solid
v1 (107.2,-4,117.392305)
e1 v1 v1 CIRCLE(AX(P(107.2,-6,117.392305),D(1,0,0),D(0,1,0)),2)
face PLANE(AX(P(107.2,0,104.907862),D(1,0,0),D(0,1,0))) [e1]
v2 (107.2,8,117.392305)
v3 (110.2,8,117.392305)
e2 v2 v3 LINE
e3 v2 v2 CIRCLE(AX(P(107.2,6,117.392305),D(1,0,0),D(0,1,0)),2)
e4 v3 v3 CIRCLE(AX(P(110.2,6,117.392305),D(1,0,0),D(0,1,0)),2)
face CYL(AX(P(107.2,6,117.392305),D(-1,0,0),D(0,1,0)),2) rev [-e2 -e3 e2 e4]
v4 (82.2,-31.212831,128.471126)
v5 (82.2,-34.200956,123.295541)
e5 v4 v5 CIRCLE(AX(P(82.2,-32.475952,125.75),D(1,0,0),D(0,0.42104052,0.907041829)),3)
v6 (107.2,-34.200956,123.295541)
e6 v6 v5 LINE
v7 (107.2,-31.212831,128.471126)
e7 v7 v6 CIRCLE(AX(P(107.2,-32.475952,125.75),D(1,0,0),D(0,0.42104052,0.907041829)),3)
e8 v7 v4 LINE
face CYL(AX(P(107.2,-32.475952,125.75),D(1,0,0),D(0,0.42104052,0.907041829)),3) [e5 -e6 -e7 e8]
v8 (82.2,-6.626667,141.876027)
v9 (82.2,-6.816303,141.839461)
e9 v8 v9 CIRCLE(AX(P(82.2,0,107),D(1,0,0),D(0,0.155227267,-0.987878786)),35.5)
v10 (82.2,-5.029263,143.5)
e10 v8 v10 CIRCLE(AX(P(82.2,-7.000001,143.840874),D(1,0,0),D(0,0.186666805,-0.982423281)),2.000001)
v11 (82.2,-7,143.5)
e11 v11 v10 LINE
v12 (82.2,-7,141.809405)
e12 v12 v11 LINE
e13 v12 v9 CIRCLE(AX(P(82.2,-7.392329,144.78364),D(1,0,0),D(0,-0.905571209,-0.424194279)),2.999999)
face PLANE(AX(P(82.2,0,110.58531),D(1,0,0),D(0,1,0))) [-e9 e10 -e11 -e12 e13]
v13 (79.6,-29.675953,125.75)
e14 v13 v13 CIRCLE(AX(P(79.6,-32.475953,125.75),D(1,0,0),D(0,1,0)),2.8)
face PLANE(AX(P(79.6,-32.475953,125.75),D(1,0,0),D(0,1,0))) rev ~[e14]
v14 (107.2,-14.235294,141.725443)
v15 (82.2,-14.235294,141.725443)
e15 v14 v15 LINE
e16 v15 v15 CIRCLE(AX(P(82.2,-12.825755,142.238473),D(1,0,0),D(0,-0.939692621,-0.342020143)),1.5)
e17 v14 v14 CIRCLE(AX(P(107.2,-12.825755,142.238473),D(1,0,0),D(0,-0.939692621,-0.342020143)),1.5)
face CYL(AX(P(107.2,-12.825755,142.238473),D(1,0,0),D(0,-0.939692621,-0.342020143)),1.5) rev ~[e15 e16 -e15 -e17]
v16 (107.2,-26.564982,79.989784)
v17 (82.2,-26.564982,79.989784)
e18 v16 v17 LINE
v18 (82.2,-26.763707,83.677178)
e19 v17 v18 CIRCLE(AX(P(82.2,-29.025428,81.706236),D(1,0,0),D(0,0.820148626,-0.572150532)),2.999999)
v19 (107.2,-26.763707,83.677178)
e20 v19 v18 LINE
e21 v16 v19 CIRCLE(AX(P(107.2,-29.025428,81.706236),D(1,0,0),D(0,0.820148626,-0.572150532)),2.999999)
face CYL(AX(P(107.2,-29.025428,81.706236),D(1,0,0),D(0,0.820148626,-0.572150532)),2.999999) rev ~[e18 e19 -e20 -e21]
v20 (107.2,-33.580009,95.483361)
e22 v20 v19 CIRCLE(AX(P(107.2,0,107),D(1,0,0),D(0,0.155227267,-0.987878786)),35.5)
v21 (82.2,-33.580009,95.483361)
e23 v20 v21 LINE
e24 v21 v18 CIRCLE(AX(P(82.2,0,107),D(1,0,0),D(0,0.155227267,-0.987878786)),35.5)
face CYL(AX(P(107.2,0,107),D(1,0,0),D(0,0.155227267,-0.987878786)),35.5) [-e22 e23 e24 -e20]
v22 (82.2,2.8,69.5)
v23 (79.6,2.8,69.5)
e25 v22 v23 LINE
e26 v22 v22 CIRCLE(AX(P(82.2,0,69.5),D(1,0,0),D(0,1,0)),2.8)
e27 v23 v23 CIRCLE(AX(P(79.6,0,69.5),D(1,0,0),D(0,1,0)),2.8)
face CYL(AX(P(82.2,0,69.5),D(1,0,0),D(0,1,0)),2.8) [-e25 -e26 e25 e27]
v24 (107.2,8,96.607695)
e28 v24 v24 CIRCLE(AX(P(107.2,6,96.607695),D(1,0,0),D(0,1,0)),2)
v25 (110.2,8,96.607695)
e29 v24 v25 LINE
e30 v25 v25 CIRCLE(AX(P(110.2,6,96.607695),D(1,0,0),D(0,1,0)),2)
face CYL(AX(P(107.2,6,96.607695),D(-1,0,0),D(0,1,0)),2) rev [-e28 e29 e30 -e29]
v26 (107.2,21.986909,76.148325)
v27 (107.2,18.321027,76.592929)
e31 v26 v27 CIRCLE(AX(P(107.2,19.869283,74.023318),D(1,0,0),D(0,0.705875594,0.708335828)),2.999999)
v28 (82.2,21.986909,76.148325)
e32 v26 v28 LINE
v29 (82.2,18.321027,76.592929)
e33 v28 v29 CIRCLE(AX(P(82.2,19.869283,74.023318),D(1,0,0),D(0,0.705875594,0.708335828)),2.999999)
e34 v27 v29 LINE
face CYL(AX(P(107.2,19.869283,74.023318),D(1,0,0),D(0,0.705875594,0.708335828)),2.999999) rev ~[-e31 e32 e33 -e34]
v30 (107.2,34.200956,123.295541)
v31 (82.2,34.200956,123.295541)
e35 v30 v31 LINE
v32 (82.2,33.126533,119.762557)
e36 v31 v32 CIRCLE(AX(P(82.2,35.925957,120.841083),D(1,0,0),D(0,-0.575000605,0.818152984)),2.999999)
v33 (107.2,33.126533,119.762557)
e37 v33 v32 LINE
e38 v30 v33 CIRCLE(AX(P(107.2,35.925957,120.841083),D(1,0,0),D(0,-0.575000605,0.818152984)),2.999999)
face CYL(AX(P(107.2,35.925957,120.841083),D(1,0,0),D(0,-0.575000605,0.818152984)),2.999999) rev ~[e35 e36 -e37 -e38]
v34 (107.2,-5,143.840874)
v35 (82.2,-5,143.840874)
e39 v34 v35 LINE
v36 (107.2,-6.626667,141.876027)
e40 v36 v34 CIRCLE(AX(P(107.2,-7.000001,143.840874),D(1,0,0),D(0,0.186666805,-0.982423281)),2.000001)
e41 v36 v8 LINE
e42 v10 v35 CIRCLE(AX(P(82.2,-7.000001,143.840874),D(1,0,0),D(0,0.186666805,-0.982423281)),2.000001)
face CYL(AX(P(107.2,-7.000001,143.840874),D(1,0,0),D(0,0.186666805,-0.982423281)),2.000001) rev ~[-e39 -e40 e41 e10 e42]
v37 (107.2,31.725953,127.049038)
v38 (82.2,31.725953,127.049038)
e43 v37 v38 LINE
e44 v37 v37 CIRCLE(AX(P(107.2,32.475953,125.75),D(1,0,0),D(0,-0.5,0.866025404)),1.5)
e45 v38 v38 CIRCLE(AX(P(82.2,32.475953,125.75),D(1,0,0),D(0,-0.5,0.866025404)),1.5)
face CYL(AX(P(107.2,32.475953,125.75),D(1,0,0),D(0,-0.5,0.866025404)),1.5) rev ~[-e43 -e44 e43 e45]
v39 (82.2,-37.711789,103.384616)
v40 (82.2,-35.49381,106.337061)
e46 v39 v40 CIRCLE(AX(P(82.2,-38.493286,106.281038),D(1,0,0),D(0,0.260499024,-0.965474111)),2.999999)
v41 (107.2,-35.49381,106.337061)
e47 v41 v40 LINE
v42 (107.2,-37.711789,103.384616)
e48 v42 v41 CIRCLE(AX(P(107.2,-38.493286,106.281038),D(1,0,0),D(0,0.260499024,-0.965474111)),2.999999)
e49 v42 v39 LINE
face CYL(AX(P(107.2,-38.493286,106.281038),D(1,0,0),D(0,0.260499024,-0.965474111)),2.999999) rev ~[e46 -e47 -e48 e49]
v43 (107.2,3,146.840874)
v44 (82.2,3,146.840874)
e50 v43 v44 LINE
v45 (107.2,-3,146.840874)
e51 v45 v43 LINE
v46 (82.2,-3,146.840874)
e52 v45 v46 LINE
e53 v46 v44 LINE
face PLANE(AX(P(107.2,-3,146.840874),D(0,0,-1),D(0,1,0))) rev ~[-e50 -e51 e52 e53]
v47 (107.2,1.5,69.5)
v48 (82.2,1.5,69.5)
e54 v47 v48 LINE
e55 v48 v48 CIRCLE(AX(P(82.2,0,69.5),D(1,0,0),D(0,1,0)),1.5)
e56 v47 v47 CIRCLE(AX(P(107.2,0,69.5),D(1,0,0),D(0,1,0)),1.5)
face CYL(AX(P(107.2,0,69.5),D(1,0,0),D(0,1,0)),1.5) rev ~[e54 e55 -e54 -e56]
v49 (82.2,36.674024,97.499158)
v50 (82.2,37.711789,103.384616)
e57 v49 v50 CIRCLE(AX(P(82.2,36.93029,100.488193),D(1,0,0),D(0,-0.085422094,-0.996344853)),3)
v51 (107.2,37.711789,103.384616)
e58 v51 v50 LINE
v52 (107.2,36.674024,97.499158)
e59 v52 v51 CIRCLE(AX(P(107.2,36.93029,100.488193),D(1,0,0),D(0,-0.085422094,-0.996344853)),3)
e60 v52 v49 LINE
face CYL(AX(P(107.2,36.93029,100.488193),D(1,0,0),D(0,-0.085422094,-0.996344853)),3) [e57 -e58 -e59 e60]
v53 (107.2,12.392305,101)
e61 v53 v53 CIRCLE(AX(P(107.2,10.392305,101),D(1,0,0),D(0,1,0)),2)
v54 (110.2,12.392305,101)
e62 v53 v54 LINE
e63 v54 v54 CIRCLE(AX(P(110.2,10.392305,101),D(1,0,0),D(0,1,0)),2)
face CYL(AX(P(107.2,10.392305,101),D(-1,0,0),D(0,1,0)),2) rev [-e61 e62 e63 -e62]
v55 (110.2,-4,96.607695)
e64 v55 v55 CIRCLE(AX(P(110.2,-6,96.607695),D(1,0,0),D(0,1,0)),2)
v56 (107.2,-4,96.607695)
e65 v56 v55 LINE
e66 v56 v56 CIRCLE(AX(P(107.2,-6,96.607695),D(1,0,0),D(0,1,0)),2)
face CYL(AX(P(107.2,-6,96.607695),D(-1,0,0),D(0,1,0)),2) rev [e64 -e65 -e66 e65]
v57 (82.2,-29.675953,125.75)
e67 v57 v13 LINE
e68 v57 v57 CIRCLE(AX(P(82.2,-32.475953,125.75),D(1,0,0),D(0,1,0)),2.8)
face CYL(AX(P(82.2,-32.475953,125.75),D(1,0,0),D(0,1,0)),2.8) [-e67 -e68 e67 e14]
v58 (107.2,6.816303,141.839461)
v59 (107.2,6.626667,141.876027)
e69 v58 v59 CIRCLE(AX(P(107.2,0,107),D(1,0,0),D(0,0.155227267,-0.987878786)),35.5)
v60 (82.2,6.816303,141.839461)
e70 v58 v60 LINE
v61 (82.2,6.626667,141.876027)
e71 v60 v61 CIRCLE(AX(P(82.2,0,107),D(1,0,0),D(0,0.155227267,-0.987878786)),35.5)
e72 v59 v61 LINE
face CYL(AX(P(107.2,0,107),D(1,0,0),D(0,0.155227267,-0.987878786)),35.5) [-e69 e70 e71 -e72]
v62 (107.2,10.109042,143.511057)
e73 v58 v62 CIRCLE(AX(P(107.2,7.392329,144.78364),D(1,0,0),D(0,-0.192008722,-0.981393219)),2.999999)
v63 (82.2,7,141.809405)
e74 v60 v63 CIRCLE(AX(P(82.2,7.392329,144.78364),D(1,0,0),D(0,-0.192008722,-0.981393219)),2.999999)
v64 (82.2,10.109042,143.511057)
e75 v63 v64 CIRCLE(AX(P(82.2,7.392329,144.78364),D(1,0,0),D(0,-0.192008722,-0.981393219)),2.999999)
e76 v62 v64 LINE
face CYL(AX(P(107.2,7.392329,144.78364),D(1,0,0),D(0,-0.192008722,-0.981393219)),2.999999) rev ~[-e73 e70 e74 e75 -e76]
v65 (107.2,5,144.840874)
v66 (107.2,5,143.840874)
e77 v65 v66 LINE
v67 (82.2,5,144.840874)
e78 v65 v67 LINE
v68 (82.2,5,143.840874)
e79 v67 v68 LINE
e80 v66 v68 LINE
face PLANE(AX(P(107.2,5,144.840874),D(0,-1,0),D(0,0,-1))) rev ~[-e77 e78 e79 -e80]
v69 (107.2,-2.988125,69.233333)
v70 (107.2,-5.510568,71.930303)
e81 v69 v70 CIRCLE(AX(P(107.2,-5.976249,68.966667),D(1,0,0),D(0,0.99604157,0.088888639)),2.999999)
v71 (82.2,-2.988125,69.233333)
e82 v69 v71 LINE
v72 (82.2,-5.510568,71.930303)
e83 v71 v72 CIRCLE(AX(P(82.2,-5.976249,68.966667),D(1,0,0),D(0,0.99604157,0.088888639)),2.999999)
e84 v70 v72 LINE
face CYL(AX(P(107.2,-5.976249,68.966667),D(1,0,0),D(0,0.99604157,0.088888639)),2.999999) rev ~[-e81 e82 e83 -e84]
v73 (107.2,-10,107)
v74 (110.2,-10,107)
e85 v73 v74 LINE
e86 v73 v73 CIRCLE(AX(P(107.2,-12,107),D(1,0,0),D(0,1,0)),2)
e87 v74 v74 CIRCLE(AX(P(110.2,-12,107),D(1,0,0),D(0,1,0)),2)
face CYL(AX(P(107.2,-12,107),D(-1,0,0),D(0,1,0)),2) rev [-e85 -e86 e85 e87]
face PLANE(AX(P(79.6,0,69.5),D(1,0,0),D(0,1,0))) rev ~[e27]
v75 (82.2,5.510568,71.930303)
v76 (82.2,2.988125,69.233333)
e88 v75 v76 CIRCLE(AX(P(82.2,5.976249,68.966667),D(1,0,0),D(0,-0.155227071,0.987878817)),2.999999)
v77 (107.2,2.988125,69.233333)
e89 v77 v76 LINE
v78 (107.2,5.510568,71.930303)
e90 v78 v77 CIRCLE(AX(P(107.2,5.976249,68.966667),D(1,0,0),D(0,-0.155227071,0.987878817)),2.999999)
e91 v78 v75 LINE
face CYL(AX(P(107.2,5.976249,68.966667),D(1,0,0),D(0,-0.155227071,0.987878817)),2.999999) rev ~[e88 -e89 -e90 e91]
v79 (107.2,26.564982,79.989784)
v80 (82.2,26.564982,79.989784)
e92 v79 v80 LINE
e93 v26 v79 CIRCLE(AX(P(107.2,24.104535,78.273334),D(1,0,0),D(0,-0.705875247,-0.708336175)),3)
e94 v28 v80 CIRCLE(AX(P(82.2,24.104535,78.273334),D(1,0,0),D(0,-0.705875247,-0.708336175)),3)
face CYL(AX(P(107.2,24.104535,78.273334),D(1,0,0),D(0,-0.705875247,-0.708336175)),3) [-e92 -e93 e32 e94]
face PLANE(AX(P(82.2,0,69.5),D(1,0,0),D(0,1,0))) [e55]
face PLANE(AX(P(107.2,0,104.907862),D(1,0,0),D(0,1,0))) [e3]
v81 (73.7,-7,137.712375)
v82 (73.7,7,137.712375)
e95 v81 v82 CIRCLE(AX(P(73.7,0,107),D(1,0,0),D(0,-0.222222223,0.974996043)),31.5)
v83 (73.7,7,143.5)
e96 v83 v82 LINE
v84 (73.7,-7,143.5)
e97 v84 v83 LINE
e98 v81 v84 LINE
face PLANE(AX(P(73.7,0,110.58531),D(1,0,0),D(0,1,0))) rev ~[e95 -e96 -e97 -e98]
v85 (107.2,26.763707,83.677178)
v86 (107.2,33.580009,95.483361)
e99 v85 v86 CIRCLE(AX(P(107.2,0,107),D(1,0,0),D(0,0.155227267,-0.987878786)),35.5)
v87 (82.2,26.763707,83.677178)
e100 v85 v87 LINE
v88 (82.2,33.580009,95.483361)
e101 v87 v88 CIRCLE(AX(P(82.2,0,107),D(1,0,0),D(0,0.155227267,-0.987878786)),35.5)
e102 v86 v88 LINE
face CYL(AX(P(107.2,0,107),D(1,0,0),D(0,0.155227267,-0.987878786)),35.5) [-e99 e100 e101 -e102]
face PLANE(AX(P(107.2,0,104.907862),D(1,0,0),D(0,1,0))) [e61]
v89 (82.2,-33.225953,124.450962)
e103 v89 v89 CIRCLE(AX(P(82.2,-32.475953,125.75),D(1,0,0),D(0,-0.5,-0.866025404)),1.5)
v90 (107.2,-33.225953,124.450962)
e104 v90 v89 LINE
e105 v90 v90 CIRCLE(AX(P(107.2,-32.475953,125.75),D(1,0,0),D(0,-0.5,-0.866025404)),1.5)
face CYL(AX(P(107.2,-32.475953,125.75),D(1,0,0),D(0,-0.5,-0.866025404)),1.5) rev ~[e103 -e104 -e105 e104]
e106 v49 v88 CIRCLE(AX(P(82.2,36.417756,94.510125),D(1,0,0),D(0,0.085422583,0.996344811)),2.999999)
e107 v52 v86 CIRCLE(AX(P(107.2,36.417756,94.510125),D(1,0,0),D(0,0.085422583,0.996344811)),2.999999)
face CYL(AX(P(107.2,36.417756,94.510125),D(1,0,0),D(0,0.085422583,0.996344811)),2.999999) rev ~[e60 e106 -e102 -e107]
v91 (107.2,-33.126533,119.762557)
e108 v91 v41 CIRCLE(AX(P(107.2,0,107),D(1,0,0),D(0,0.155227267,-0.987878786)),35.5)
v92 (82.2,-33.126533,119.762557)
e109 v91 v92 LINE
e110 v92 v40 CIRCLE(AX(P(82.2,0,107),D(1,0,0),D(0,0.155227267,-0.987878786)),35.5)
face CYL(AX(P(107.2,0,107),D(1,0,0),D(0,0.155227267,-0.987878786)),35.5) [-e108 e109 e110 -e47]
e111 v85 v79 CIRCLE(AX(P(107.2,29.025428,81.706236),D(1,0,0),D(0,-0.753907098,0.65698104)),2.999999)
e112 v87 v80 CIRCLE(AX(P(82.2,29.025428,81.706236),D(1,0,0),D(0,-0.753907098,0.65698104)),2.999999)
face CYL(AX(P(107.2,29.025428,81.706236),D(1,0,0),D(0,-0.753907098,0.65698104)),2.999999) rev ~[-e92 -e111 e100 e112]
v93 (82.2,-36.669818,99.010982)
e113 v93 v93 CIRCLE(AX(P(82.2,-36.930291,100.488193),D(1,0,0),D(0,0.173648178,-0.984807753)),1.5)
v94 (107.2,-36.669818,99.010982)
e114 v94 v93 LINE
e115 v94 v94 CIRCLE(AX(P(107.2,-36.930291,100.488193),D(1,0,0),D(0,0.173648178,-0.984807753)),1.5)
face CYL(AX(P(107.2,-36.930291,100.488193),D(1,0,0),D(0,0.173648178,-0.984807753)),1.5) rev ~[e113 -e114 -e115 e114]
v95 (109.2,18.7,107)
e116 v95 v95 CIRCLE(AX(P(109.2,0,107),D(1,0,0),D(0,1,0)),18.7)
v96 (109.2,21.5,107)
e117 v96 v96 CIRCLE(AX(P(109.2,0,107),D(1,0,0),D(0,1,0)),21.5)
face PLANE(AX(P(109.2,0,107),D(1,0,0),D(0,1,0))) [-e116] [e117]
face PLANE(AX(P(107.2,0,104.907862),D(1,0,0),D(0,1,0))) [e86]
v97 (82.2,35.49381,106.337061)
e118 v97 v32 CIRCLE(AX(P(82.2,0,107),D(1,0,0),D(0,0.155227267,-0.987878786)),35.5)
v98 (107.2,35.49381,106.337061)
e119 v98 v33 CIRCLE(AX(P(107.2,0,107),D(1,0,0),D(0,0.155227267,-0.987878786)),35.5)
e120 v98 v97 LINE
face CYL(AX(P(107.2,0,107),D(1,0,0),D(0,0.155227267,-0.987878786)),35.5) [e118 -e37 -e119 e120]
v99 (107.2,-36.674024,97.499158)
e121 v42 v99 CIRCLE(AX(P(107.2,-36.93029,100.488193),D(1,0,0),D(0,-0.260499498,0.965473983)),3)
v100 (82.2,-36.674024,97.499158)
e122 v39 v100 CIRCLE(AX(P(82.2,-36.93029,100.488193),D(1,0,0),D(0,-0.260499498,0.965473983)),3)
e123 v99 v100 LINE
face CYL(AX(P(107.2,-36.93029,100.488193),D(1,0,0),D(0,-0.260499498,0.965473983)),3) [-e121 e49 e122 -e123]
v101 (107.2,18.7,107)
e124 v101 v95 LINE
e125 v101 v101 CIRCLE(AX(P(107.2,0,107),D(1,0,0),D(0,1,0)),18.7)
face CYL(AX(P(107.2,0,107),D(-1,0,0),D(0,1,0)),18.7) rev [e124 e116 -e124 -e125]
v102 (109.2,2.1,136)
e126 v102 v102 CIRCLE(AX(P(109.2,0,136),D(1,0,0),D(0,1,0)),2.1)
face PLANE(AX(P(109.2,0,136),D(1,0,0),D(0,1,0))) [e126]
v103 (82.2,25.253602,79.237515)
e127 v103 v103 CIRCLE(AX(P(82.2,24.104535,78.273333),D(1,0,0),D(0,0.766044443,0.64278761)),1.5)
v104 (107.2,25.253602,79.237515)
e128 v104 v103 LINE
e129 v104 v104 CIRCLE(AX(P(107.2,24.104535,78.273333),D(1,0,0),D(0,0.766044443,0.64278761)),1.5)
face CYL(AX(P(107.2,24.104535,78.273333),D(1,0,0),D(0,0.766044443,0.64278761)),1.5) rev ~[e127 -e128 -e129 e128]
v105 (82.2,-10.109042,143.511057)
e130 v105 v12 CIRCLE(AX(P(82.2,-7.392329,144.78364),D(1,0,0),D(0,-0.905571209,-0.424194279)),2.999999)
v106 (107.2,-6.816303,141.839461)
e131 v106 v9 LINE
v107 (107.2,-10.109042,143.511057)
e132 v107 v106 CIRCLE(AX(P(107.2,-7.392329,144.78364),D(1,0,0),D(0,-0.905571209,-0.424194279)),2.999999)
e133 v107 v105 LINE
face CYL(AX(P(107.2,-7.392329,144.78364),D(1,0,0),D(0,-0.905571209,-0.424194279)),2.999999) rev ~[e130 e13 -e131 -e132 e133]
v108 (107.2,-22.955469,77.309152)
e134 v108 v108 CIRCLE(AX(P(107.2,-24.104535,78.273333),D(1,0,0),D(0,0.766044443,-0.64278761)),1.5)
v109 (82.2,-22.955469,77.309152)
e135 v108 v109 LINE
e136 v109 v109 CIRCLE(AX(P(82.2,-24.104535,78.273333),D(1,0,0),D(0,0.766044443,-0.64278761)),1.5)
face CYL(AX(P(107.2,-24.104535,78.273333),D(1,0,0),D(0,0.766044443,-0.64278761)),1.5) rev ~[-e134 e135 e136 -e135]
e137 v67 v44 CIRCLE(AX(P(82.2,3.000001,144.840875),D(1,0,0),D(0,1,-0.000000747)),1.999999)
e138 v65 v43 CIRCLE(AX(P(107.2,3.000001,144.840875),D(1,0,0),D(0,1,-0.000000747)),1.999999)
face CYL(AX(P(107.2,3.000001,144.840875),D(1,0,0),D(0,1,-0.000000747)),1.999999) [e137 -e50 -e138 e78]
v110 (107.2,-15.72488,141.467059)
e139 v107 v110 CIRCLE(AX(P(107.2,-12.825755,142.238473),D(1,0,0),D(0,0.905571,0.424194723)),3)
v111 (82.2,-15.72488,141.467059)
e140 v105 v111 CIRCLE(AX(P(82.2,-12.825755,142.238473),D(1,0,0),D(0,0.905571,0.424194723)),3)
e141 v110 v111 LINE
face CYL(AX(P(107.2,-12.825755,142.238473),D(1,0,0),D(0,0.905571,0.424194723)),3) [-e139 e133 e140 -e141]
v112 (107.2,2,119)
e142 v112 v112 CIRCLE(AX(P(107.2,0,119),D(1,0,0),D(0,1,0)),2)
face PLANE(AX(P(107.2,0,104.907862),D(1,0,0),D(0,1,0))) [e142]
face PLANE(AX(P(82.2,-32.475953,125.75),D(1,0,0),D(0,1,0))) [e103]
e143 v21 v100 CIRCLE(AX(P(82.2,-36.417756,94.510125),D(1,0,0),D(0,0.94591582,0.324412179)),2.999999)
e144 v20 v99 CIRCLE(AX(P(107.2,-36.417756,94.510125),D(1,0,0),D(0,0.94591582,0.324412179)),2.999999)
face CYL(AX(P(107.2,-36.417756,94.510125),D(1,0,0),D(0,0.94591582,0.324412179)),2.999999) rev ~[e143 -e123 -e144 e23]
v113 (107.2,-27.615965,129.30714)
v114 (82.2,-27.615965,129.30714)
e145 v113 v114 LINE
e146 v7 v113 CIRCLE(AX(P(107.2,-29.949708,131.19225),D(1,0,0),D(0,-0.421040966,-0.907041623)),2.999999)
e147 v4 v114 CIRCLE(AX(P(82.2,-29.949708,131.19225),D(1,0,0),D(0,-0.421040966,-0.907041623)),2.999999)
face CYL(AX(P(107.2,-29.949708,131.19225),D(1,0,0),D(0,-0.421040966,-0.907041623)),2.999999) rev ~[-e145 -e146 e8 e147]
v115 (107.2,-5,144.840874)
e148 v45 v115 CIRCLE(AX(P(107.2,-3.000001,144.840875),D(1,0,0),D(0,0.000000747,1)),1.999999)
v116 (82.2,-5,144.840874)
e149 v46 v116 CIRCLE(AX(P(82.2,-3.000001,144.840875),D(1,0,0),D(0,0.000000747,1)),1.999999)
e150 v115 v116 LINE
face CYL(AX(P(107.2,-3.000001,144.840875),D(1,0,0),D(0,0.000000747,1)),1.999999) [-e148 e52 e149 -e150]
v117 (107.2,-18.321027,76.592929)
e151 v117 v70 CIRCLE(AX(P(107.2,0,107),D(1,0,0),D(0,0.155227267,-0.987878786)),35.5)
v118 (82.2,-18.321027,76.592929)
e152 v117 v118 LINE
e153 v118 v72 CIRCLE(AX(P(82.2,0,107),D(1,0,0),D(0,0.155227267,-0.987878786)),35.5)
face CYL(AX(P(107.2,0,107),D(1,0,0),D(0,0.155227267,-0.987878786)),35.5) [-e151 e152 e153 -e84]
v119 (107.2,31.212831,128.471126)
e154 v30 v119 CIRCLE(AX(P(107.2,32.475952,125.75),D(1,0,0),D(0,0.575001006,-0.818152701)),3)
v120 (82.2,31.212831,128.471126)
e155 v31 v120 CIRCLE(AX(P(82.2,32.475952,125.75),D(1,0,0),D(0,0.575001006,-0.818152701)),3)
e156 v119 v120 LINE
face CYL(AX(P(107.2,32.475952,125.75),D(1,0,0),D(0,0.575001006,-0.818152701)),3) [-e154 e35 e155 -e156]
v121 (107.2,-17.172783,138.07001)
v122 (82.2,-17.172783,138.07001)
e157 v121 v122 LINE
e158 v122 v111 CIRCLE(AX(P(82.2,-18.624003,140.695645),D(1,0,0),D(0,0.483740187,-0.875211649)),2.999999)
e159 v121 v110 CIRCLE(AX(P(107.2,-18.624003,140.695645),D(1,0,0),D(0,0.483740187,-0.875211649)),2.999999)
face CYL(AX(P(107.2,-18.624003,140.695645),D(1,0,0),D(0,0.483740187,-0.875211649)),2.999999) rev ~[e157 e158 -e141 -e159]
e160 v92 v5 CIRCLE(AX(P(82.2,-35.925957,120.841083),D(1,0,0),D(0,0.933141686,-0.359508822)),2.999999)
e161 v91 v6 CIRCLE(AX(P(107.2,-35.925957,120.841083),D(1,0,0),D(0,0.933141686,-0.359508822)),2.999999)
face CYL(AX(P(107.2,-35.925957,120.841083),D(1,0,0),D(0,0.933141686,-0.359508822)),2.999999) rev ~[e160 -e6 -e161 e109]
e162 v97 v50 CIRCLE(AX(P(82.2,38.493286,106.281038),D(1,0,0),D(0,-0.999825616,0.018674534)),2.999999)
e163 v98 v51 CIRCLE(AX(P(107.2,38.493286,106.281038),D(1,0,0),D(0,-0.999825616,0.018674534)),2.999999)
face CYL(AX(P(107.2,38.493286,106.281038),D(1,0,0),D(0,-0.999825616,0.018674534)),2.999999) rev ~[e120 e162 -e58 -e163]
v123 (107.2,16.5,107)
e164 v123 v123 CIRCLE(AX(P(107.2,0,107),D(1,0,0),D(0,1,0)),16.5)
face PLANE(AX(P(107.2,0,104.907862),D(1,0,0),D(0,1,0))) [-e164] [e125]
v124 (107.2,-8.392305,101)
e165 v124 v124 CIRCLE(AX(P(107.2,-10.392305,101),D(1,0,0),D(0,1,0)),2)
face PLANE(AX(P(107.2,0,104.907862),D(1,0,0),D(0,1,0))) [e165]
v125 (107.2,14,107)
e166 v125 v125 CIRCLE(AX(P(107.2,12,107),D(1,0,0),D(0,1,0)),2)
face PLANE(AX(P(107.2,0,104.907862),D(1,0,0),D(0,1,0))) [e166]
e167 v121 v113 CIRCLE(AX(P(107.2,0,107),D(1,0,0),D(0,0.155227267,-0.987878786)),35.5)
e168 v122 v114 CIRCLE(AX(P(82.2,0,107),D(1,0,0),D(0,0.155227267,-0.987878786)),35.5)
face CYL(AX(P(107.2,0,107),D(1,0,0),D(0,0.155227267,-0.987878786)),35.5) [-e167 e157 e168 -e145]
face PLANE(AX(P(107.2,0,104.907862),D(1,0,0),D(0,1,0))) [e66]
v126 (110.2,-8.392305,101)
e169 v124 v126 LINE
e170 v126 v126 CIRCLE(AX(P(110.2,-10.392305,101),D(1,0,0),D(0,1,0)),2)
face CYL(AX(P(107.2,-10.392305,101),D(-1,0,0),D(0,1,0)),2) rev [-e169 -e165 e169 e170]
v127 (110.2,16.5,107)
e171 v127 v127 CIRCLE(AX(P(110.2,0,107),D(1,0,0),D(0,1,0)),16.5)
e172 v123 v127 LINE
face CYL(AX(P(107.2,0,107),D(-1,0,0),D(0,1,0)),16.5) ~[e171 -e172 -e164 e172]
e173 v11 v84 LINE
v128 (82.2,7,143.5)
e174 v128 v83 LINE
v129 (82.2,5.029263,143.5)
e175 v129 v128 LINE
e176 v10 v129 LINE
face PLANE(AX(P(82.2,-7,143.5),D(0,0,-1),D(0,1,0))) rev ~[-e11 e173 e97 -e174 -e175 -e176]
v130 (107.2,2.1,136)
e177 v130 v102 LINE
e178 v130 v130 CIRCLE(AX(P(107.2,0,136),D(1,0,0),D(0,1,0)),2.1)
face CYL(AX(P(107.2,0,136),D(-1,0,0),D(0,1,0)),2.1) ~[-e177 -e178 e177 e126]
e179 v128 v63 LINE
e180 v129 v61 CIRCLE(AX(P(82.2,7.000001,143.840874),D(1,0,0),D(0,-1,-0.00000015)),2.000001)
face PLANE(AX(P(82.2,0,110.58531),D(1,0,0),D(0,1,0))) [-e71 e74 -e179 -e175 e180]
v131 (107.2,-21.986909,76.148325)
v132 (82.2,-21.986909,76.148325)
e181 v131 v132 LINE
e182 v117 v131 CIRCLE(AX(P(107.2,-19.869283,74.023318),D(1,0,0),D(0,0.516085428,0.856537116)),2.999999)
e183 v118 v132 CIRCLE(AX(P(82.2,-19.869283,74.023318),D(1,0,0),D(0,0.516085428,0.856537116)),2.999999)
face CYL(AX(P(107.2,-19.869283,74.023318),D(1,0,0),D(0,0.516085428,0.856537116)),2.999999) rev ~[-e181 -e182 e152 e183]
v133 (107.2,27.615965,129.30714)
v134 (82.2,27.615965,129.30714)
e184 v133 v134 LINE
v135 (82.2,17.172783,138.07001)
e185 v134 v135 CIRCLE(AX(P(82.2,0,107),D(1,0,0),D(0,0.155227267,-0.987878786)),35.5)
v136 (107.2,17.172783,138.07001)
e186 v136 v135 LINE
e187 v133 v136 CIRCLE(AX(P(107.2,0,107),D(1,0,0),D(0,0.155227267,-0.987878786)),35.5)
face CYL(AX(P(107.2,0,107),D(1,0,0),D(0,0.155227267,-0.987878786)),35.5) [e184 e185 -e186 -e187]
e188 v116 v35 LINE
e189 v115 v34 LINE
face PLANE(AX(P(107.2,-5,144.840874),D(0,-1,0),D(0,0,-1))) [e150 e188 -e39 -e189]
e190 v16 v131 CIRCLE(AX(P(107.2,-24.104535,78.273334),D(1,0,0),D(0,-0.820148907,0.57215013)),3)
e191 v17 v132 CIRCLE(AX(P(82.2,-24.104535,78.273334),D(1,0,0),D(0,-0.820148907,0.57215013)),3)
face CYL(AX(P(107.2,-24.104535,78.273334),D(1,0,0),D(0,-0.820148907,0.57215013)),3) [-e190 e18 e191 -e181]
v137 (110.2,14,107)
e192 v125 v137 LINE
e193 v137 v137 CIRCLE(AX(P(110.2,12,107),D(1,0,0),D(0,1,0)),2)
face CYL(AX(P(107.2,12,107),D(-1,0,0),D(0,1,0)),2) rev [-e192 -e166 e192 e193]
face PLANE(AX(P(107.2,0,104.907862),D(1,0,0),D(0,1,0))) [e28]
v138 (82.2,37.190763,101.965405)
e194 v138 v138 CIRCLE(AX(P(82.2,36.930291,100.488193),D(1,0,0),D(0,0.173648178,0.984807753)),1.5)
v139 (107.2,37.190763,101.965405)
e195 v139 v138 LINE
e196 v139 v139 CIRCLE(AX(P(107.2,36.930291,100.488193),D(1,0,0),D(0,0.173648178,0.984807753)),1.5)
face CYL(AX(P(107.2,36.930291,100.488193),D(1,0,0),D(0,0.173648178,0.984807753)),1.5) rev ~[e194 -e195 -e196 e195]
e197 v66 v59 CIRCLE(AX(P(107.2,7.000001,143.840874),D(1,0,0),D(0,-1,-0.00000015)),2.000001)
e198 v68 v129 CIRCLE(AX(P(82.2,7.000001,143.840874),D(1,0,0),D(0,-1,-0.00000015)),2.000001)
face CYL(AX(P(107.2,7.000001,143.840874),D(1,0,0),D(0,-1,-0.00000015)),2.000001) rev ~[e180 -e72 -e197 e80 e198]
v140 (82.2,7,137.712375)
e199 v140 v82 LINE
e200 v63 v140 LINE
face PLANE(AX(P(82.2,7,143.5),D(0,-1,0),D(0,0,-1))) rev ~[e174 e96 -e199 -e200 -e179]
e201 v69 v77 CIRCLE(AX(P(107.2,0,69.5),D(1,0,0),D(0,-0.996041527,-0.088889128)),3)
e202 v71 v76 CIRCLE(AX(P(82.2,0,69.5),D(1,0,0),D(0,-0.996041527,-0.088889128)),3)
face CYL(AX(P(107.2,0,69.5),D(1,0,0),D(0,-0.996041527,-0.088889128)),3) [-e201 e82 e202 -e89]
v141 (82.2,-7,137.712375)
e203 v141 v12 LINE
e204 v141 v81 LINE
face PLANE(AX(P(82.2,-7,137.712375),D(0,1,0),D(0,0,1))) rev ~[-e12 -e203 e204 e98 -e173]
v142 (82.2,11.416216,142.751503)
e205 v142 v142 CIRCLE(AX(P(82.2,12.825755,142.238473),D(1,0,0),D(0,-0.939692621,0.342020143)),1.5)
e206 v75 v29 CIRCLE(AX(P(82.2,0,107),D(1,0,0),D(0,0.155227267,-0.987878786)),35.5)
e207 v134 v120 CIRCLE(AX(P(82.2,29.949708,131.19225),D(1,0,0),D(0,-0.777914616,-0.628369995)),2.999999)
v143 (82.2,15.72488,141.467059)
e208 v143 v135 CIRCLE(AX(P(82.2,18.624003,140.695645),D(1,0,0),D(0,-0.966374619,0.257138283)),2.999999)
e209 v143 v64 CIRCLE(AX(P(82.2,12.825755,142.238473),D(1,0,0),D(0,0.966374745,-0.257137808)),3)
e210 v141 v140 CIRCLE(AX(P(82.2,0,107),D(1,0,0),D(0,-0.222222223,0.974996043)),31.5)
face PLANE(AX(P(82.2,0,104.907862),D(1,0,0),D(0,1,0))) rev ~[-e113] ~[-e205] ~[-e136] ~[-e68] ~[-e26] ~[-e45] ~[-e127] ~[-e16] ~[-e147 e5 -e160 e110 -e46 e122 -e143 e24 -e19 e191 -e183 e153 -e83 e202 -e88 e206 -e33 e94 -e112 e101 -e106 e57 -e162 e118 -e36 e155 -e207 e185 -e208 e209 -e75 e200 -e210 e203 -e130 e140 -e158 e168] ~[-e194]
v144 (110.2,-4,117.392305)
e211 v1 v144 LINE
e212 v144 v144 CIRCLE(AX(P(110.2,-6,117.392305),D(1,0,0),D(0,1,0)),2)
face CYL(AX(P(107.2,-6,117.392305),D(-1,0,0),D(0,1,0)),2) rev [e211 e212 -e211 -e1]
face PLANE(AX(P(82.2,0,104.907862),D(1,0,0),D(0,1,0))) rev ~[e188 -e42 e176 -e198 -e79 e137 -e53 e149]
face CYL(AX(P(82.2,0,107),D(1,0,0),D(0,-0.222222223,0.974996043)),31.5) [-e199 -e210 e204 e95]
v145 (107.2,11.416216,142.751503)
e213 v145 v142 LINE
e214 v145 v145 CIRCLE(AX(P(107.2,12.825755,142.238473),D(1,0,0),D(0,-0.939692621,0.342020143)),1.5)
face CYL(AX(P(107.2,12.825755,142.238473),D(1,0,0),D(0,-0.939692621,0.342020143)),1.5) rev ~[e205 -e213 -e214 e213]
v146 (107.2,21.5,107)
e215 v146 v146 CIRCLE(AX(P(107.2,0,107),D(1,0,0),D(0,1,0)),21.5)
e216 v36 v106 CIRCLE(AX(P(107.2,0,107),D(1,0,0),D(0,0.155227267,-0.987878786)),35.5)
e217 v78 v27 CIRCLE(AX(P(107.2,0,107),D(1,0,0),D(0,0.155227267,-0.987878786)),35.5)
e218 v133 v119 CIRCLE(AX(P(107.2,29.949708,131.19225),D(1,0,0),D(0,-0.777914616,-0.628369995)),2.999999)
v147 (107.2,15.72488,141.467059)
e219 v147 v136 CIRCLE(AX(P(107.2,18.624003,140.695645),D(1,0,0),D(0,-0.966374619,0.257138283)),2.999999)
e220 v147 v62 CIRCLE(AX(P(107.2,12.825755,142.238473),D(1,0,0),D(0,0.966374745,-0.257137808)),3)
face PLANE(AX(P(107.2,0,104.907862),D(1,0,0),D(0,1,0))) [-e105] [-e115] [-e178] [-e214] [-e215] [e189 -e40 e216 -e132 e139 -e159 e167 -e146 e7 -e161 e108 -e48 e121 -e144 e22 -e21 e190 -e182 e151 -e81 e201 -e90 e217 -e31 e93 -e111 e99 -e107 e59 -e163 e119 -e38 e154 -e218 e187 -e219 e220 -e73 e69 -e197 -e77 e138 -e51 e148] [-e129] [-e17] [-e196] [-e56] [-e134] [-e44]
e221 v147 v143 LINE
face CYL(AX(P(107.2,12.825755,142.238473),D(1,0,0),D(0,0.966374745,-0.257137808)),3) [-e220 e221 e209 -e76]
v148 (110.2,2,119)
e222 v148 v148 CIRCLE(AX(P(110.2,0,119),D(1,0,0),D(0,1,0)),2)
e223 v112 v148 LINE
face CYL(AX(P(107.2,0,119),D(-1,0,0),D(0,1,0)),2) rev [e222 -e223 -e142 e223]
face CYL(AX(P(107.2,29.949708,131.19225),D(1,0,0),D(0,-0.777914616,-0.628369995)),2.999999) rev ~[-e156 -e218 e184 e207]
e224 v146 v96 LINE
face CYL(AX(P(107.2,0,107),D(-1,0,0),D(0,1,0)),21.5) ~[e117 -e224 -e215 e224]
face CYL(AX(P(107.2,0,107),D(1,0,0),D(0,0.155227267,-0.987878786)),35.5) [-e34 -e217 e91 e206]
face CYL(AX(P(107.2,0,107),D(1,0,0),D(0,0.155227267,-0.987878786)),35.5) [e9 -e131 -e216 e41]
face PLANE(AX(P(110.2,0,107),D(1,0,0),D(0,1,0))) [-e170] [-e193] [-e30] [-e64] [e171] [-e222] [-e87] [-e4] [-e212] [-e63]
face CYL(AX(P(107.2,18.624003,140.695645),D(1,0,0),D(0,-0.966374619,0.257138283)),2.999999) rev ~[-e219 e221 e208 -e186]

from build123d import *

# Parameters (mm, degrees)
SKETCH009_R        = 16.5
SKETCH009_R_2      = 2
PAD006_DEPTH       = 3
SKETCH010_R        = 1.5
PAD007_DEPTH       = 25
POLARPATTERN_COUNT = 9
PAD008_DEPTH       = 25
SKETCH012_R        = 21.5
SKETCH012_R_2      = 18.7
SKETCH012_R_3      = 2.1
PAD009_DEPTH       = 2
PAD010_DEPTH       = 8.5
SKETCH014_R        = 2.8
PAD011_DEPTH       = 2.6


with BuildPart() as part:
    # Sketch009 → Pad006 (new body)
    with BuildSketch(Plane.YZ):
        Circle(SKETCH009_R)
        with Locations((0, 12)):
            Circle(SKETCH009_R_2, mode=Mode.SUBTRACT)
        with Locations((-6, 10.392305)):
            Circle(SKETCH009_R_2, mode=Mode.SUBTRACT)
        with Locations((6, 10.392305)):
            Circle(SKETCH009_R_2, mode=Mode.SUBTRACT)
        with Locations((12, 0)):
            Circle(SKETCH009_R_2, mode=Mode.SUBTRACT)
        with Locations((10.392305, -6)):
            Circle(SKETCH009_R_2, mode=Mode.SUBTRACT)
        with Locations((6, -10.392305)):
            Circle(SKETCH009_R_2, mode=Mode.SUBTRACT)
        with Locations((-6, -10.392305)):
            Circle(SKETCH009_R_2, mode=Mode.SUBTRACT)
        with Locations((-10.392305, -6)):
            Circle(SKETCH009_R_2, mode=Mode.SUBTRACT)
        with Locations((-12, 0)):
            Circle(SKETCH009_R_2, mode=Mode.SUBTRACT)
    extrude(amount=PAD006_DEPTH)

    # Sketch010 → Pad007 (join)
    with BuildSketch(Plane.YZ):
        with BuildLine():
            ThreePointArc((5.510568, -35.069697), (0, 35.5), (-5.510568, -35.069697))
            ThreePointArc((-2.988125, -37.766667), (-3.785221, -35.984091), (-5.510568, -35.069697))
            ThreePointArc((-2.988125, -37.766667), (0, -40.5), (2.988125, -37.766667))
            ThreePointArc((5.510568, -35.069697), (3.785221, -35.984091), (2.988125, -37.766667))
        make_face()
        with Locations((0, -37.5)):
            Circle(SKETCH010_R, mode=Mode.SUBTRACT)
    pad007 = extrude(amount=-PAD007_DEPTH)

    # PolarPattern: Pad007 ×9 about axis
    polarpattern_axis = Axis((0, 0, 0), (1, 0, 0))
    for i in range(1, POLARPATTERN_COUNT):
        add(pad007.rotate(polarpattern_axis, i * 360 / POLARPATTERN_COUNT))

    # Sketch011 → Pad008 (join)
    with BuildSketch(Plane.YZ):
        with BuildLine():
            ThreePointArc((-6.626667, 34.876027), (-5.459437, 35.565466), (-5, 36.840874))
            Line((-5, 37.840874), (-5, 36.840874))
            ThreePointArc((-3, 39.840874), (-4.414214, 39.255088), (-5, 37.840874))
            Line((-3, 39.840874), (3, 39.840874))
            ThreePointArc((5, 37.840874), (4.414214, 39.255088), (3, 39.840874))
            Line((5, 37.840874), (5, 36.840874))
            ThreePointArc((5, 36.840874), (5.459437, 35.565466), (6.626667, 34.876027))
            ThreePointArc((6.626667, 34.876027), (0, 35.5), (-6.626667, 34.876027))
        make_face()
    extrude(amount=-PAD008_DEPTH)

    # Sketch012 → Pad009 (join)
    with BuildSketch(Plane.YZ):
        Circle(SKETCH012_R)
        Circle(SKETCH012_R_2, mode=Mode.SUBTRACT)
        with Locations((0, 29)):
            Circle(SKETCH012_R_3)
    extrude(amount=PAD009_DEPTH)

    # Sketch013 → Pad010 (join)
    with BuildSketch(Plane.YZ.offset(-25)):
        with BuildLine():
            ThreePointArc((-7, 30.712375), (0, -31.5), (7, 30.712375))
            Line((7, 36.5), (7, 30.712375))
            Line((-7, 36.5), (7, 36.5))
            Line((-7, 30.712375), (-7, 36.5))
        make_face()
    extrude(amount=-PAD010_DEPTH)

    # Sketch014 → Pad011 (join)
    with BuildSketch(Plane.YZ.offset(-25)):
        Circle(SKETCH014_R)
        with Locations((0, -37.5)):
            Circle(SKETCH014_R)
        with Locations((-32.475953, 18.75)):
            Circle(SKETCH014_R)
    extrude(amount=-PAD011_DEPTH)


with BuildPart() as part_1:
    # Body004 placement: moved
    add(part.part.moved(Location((107.2, 0, 107))))


solid = part_1.part
